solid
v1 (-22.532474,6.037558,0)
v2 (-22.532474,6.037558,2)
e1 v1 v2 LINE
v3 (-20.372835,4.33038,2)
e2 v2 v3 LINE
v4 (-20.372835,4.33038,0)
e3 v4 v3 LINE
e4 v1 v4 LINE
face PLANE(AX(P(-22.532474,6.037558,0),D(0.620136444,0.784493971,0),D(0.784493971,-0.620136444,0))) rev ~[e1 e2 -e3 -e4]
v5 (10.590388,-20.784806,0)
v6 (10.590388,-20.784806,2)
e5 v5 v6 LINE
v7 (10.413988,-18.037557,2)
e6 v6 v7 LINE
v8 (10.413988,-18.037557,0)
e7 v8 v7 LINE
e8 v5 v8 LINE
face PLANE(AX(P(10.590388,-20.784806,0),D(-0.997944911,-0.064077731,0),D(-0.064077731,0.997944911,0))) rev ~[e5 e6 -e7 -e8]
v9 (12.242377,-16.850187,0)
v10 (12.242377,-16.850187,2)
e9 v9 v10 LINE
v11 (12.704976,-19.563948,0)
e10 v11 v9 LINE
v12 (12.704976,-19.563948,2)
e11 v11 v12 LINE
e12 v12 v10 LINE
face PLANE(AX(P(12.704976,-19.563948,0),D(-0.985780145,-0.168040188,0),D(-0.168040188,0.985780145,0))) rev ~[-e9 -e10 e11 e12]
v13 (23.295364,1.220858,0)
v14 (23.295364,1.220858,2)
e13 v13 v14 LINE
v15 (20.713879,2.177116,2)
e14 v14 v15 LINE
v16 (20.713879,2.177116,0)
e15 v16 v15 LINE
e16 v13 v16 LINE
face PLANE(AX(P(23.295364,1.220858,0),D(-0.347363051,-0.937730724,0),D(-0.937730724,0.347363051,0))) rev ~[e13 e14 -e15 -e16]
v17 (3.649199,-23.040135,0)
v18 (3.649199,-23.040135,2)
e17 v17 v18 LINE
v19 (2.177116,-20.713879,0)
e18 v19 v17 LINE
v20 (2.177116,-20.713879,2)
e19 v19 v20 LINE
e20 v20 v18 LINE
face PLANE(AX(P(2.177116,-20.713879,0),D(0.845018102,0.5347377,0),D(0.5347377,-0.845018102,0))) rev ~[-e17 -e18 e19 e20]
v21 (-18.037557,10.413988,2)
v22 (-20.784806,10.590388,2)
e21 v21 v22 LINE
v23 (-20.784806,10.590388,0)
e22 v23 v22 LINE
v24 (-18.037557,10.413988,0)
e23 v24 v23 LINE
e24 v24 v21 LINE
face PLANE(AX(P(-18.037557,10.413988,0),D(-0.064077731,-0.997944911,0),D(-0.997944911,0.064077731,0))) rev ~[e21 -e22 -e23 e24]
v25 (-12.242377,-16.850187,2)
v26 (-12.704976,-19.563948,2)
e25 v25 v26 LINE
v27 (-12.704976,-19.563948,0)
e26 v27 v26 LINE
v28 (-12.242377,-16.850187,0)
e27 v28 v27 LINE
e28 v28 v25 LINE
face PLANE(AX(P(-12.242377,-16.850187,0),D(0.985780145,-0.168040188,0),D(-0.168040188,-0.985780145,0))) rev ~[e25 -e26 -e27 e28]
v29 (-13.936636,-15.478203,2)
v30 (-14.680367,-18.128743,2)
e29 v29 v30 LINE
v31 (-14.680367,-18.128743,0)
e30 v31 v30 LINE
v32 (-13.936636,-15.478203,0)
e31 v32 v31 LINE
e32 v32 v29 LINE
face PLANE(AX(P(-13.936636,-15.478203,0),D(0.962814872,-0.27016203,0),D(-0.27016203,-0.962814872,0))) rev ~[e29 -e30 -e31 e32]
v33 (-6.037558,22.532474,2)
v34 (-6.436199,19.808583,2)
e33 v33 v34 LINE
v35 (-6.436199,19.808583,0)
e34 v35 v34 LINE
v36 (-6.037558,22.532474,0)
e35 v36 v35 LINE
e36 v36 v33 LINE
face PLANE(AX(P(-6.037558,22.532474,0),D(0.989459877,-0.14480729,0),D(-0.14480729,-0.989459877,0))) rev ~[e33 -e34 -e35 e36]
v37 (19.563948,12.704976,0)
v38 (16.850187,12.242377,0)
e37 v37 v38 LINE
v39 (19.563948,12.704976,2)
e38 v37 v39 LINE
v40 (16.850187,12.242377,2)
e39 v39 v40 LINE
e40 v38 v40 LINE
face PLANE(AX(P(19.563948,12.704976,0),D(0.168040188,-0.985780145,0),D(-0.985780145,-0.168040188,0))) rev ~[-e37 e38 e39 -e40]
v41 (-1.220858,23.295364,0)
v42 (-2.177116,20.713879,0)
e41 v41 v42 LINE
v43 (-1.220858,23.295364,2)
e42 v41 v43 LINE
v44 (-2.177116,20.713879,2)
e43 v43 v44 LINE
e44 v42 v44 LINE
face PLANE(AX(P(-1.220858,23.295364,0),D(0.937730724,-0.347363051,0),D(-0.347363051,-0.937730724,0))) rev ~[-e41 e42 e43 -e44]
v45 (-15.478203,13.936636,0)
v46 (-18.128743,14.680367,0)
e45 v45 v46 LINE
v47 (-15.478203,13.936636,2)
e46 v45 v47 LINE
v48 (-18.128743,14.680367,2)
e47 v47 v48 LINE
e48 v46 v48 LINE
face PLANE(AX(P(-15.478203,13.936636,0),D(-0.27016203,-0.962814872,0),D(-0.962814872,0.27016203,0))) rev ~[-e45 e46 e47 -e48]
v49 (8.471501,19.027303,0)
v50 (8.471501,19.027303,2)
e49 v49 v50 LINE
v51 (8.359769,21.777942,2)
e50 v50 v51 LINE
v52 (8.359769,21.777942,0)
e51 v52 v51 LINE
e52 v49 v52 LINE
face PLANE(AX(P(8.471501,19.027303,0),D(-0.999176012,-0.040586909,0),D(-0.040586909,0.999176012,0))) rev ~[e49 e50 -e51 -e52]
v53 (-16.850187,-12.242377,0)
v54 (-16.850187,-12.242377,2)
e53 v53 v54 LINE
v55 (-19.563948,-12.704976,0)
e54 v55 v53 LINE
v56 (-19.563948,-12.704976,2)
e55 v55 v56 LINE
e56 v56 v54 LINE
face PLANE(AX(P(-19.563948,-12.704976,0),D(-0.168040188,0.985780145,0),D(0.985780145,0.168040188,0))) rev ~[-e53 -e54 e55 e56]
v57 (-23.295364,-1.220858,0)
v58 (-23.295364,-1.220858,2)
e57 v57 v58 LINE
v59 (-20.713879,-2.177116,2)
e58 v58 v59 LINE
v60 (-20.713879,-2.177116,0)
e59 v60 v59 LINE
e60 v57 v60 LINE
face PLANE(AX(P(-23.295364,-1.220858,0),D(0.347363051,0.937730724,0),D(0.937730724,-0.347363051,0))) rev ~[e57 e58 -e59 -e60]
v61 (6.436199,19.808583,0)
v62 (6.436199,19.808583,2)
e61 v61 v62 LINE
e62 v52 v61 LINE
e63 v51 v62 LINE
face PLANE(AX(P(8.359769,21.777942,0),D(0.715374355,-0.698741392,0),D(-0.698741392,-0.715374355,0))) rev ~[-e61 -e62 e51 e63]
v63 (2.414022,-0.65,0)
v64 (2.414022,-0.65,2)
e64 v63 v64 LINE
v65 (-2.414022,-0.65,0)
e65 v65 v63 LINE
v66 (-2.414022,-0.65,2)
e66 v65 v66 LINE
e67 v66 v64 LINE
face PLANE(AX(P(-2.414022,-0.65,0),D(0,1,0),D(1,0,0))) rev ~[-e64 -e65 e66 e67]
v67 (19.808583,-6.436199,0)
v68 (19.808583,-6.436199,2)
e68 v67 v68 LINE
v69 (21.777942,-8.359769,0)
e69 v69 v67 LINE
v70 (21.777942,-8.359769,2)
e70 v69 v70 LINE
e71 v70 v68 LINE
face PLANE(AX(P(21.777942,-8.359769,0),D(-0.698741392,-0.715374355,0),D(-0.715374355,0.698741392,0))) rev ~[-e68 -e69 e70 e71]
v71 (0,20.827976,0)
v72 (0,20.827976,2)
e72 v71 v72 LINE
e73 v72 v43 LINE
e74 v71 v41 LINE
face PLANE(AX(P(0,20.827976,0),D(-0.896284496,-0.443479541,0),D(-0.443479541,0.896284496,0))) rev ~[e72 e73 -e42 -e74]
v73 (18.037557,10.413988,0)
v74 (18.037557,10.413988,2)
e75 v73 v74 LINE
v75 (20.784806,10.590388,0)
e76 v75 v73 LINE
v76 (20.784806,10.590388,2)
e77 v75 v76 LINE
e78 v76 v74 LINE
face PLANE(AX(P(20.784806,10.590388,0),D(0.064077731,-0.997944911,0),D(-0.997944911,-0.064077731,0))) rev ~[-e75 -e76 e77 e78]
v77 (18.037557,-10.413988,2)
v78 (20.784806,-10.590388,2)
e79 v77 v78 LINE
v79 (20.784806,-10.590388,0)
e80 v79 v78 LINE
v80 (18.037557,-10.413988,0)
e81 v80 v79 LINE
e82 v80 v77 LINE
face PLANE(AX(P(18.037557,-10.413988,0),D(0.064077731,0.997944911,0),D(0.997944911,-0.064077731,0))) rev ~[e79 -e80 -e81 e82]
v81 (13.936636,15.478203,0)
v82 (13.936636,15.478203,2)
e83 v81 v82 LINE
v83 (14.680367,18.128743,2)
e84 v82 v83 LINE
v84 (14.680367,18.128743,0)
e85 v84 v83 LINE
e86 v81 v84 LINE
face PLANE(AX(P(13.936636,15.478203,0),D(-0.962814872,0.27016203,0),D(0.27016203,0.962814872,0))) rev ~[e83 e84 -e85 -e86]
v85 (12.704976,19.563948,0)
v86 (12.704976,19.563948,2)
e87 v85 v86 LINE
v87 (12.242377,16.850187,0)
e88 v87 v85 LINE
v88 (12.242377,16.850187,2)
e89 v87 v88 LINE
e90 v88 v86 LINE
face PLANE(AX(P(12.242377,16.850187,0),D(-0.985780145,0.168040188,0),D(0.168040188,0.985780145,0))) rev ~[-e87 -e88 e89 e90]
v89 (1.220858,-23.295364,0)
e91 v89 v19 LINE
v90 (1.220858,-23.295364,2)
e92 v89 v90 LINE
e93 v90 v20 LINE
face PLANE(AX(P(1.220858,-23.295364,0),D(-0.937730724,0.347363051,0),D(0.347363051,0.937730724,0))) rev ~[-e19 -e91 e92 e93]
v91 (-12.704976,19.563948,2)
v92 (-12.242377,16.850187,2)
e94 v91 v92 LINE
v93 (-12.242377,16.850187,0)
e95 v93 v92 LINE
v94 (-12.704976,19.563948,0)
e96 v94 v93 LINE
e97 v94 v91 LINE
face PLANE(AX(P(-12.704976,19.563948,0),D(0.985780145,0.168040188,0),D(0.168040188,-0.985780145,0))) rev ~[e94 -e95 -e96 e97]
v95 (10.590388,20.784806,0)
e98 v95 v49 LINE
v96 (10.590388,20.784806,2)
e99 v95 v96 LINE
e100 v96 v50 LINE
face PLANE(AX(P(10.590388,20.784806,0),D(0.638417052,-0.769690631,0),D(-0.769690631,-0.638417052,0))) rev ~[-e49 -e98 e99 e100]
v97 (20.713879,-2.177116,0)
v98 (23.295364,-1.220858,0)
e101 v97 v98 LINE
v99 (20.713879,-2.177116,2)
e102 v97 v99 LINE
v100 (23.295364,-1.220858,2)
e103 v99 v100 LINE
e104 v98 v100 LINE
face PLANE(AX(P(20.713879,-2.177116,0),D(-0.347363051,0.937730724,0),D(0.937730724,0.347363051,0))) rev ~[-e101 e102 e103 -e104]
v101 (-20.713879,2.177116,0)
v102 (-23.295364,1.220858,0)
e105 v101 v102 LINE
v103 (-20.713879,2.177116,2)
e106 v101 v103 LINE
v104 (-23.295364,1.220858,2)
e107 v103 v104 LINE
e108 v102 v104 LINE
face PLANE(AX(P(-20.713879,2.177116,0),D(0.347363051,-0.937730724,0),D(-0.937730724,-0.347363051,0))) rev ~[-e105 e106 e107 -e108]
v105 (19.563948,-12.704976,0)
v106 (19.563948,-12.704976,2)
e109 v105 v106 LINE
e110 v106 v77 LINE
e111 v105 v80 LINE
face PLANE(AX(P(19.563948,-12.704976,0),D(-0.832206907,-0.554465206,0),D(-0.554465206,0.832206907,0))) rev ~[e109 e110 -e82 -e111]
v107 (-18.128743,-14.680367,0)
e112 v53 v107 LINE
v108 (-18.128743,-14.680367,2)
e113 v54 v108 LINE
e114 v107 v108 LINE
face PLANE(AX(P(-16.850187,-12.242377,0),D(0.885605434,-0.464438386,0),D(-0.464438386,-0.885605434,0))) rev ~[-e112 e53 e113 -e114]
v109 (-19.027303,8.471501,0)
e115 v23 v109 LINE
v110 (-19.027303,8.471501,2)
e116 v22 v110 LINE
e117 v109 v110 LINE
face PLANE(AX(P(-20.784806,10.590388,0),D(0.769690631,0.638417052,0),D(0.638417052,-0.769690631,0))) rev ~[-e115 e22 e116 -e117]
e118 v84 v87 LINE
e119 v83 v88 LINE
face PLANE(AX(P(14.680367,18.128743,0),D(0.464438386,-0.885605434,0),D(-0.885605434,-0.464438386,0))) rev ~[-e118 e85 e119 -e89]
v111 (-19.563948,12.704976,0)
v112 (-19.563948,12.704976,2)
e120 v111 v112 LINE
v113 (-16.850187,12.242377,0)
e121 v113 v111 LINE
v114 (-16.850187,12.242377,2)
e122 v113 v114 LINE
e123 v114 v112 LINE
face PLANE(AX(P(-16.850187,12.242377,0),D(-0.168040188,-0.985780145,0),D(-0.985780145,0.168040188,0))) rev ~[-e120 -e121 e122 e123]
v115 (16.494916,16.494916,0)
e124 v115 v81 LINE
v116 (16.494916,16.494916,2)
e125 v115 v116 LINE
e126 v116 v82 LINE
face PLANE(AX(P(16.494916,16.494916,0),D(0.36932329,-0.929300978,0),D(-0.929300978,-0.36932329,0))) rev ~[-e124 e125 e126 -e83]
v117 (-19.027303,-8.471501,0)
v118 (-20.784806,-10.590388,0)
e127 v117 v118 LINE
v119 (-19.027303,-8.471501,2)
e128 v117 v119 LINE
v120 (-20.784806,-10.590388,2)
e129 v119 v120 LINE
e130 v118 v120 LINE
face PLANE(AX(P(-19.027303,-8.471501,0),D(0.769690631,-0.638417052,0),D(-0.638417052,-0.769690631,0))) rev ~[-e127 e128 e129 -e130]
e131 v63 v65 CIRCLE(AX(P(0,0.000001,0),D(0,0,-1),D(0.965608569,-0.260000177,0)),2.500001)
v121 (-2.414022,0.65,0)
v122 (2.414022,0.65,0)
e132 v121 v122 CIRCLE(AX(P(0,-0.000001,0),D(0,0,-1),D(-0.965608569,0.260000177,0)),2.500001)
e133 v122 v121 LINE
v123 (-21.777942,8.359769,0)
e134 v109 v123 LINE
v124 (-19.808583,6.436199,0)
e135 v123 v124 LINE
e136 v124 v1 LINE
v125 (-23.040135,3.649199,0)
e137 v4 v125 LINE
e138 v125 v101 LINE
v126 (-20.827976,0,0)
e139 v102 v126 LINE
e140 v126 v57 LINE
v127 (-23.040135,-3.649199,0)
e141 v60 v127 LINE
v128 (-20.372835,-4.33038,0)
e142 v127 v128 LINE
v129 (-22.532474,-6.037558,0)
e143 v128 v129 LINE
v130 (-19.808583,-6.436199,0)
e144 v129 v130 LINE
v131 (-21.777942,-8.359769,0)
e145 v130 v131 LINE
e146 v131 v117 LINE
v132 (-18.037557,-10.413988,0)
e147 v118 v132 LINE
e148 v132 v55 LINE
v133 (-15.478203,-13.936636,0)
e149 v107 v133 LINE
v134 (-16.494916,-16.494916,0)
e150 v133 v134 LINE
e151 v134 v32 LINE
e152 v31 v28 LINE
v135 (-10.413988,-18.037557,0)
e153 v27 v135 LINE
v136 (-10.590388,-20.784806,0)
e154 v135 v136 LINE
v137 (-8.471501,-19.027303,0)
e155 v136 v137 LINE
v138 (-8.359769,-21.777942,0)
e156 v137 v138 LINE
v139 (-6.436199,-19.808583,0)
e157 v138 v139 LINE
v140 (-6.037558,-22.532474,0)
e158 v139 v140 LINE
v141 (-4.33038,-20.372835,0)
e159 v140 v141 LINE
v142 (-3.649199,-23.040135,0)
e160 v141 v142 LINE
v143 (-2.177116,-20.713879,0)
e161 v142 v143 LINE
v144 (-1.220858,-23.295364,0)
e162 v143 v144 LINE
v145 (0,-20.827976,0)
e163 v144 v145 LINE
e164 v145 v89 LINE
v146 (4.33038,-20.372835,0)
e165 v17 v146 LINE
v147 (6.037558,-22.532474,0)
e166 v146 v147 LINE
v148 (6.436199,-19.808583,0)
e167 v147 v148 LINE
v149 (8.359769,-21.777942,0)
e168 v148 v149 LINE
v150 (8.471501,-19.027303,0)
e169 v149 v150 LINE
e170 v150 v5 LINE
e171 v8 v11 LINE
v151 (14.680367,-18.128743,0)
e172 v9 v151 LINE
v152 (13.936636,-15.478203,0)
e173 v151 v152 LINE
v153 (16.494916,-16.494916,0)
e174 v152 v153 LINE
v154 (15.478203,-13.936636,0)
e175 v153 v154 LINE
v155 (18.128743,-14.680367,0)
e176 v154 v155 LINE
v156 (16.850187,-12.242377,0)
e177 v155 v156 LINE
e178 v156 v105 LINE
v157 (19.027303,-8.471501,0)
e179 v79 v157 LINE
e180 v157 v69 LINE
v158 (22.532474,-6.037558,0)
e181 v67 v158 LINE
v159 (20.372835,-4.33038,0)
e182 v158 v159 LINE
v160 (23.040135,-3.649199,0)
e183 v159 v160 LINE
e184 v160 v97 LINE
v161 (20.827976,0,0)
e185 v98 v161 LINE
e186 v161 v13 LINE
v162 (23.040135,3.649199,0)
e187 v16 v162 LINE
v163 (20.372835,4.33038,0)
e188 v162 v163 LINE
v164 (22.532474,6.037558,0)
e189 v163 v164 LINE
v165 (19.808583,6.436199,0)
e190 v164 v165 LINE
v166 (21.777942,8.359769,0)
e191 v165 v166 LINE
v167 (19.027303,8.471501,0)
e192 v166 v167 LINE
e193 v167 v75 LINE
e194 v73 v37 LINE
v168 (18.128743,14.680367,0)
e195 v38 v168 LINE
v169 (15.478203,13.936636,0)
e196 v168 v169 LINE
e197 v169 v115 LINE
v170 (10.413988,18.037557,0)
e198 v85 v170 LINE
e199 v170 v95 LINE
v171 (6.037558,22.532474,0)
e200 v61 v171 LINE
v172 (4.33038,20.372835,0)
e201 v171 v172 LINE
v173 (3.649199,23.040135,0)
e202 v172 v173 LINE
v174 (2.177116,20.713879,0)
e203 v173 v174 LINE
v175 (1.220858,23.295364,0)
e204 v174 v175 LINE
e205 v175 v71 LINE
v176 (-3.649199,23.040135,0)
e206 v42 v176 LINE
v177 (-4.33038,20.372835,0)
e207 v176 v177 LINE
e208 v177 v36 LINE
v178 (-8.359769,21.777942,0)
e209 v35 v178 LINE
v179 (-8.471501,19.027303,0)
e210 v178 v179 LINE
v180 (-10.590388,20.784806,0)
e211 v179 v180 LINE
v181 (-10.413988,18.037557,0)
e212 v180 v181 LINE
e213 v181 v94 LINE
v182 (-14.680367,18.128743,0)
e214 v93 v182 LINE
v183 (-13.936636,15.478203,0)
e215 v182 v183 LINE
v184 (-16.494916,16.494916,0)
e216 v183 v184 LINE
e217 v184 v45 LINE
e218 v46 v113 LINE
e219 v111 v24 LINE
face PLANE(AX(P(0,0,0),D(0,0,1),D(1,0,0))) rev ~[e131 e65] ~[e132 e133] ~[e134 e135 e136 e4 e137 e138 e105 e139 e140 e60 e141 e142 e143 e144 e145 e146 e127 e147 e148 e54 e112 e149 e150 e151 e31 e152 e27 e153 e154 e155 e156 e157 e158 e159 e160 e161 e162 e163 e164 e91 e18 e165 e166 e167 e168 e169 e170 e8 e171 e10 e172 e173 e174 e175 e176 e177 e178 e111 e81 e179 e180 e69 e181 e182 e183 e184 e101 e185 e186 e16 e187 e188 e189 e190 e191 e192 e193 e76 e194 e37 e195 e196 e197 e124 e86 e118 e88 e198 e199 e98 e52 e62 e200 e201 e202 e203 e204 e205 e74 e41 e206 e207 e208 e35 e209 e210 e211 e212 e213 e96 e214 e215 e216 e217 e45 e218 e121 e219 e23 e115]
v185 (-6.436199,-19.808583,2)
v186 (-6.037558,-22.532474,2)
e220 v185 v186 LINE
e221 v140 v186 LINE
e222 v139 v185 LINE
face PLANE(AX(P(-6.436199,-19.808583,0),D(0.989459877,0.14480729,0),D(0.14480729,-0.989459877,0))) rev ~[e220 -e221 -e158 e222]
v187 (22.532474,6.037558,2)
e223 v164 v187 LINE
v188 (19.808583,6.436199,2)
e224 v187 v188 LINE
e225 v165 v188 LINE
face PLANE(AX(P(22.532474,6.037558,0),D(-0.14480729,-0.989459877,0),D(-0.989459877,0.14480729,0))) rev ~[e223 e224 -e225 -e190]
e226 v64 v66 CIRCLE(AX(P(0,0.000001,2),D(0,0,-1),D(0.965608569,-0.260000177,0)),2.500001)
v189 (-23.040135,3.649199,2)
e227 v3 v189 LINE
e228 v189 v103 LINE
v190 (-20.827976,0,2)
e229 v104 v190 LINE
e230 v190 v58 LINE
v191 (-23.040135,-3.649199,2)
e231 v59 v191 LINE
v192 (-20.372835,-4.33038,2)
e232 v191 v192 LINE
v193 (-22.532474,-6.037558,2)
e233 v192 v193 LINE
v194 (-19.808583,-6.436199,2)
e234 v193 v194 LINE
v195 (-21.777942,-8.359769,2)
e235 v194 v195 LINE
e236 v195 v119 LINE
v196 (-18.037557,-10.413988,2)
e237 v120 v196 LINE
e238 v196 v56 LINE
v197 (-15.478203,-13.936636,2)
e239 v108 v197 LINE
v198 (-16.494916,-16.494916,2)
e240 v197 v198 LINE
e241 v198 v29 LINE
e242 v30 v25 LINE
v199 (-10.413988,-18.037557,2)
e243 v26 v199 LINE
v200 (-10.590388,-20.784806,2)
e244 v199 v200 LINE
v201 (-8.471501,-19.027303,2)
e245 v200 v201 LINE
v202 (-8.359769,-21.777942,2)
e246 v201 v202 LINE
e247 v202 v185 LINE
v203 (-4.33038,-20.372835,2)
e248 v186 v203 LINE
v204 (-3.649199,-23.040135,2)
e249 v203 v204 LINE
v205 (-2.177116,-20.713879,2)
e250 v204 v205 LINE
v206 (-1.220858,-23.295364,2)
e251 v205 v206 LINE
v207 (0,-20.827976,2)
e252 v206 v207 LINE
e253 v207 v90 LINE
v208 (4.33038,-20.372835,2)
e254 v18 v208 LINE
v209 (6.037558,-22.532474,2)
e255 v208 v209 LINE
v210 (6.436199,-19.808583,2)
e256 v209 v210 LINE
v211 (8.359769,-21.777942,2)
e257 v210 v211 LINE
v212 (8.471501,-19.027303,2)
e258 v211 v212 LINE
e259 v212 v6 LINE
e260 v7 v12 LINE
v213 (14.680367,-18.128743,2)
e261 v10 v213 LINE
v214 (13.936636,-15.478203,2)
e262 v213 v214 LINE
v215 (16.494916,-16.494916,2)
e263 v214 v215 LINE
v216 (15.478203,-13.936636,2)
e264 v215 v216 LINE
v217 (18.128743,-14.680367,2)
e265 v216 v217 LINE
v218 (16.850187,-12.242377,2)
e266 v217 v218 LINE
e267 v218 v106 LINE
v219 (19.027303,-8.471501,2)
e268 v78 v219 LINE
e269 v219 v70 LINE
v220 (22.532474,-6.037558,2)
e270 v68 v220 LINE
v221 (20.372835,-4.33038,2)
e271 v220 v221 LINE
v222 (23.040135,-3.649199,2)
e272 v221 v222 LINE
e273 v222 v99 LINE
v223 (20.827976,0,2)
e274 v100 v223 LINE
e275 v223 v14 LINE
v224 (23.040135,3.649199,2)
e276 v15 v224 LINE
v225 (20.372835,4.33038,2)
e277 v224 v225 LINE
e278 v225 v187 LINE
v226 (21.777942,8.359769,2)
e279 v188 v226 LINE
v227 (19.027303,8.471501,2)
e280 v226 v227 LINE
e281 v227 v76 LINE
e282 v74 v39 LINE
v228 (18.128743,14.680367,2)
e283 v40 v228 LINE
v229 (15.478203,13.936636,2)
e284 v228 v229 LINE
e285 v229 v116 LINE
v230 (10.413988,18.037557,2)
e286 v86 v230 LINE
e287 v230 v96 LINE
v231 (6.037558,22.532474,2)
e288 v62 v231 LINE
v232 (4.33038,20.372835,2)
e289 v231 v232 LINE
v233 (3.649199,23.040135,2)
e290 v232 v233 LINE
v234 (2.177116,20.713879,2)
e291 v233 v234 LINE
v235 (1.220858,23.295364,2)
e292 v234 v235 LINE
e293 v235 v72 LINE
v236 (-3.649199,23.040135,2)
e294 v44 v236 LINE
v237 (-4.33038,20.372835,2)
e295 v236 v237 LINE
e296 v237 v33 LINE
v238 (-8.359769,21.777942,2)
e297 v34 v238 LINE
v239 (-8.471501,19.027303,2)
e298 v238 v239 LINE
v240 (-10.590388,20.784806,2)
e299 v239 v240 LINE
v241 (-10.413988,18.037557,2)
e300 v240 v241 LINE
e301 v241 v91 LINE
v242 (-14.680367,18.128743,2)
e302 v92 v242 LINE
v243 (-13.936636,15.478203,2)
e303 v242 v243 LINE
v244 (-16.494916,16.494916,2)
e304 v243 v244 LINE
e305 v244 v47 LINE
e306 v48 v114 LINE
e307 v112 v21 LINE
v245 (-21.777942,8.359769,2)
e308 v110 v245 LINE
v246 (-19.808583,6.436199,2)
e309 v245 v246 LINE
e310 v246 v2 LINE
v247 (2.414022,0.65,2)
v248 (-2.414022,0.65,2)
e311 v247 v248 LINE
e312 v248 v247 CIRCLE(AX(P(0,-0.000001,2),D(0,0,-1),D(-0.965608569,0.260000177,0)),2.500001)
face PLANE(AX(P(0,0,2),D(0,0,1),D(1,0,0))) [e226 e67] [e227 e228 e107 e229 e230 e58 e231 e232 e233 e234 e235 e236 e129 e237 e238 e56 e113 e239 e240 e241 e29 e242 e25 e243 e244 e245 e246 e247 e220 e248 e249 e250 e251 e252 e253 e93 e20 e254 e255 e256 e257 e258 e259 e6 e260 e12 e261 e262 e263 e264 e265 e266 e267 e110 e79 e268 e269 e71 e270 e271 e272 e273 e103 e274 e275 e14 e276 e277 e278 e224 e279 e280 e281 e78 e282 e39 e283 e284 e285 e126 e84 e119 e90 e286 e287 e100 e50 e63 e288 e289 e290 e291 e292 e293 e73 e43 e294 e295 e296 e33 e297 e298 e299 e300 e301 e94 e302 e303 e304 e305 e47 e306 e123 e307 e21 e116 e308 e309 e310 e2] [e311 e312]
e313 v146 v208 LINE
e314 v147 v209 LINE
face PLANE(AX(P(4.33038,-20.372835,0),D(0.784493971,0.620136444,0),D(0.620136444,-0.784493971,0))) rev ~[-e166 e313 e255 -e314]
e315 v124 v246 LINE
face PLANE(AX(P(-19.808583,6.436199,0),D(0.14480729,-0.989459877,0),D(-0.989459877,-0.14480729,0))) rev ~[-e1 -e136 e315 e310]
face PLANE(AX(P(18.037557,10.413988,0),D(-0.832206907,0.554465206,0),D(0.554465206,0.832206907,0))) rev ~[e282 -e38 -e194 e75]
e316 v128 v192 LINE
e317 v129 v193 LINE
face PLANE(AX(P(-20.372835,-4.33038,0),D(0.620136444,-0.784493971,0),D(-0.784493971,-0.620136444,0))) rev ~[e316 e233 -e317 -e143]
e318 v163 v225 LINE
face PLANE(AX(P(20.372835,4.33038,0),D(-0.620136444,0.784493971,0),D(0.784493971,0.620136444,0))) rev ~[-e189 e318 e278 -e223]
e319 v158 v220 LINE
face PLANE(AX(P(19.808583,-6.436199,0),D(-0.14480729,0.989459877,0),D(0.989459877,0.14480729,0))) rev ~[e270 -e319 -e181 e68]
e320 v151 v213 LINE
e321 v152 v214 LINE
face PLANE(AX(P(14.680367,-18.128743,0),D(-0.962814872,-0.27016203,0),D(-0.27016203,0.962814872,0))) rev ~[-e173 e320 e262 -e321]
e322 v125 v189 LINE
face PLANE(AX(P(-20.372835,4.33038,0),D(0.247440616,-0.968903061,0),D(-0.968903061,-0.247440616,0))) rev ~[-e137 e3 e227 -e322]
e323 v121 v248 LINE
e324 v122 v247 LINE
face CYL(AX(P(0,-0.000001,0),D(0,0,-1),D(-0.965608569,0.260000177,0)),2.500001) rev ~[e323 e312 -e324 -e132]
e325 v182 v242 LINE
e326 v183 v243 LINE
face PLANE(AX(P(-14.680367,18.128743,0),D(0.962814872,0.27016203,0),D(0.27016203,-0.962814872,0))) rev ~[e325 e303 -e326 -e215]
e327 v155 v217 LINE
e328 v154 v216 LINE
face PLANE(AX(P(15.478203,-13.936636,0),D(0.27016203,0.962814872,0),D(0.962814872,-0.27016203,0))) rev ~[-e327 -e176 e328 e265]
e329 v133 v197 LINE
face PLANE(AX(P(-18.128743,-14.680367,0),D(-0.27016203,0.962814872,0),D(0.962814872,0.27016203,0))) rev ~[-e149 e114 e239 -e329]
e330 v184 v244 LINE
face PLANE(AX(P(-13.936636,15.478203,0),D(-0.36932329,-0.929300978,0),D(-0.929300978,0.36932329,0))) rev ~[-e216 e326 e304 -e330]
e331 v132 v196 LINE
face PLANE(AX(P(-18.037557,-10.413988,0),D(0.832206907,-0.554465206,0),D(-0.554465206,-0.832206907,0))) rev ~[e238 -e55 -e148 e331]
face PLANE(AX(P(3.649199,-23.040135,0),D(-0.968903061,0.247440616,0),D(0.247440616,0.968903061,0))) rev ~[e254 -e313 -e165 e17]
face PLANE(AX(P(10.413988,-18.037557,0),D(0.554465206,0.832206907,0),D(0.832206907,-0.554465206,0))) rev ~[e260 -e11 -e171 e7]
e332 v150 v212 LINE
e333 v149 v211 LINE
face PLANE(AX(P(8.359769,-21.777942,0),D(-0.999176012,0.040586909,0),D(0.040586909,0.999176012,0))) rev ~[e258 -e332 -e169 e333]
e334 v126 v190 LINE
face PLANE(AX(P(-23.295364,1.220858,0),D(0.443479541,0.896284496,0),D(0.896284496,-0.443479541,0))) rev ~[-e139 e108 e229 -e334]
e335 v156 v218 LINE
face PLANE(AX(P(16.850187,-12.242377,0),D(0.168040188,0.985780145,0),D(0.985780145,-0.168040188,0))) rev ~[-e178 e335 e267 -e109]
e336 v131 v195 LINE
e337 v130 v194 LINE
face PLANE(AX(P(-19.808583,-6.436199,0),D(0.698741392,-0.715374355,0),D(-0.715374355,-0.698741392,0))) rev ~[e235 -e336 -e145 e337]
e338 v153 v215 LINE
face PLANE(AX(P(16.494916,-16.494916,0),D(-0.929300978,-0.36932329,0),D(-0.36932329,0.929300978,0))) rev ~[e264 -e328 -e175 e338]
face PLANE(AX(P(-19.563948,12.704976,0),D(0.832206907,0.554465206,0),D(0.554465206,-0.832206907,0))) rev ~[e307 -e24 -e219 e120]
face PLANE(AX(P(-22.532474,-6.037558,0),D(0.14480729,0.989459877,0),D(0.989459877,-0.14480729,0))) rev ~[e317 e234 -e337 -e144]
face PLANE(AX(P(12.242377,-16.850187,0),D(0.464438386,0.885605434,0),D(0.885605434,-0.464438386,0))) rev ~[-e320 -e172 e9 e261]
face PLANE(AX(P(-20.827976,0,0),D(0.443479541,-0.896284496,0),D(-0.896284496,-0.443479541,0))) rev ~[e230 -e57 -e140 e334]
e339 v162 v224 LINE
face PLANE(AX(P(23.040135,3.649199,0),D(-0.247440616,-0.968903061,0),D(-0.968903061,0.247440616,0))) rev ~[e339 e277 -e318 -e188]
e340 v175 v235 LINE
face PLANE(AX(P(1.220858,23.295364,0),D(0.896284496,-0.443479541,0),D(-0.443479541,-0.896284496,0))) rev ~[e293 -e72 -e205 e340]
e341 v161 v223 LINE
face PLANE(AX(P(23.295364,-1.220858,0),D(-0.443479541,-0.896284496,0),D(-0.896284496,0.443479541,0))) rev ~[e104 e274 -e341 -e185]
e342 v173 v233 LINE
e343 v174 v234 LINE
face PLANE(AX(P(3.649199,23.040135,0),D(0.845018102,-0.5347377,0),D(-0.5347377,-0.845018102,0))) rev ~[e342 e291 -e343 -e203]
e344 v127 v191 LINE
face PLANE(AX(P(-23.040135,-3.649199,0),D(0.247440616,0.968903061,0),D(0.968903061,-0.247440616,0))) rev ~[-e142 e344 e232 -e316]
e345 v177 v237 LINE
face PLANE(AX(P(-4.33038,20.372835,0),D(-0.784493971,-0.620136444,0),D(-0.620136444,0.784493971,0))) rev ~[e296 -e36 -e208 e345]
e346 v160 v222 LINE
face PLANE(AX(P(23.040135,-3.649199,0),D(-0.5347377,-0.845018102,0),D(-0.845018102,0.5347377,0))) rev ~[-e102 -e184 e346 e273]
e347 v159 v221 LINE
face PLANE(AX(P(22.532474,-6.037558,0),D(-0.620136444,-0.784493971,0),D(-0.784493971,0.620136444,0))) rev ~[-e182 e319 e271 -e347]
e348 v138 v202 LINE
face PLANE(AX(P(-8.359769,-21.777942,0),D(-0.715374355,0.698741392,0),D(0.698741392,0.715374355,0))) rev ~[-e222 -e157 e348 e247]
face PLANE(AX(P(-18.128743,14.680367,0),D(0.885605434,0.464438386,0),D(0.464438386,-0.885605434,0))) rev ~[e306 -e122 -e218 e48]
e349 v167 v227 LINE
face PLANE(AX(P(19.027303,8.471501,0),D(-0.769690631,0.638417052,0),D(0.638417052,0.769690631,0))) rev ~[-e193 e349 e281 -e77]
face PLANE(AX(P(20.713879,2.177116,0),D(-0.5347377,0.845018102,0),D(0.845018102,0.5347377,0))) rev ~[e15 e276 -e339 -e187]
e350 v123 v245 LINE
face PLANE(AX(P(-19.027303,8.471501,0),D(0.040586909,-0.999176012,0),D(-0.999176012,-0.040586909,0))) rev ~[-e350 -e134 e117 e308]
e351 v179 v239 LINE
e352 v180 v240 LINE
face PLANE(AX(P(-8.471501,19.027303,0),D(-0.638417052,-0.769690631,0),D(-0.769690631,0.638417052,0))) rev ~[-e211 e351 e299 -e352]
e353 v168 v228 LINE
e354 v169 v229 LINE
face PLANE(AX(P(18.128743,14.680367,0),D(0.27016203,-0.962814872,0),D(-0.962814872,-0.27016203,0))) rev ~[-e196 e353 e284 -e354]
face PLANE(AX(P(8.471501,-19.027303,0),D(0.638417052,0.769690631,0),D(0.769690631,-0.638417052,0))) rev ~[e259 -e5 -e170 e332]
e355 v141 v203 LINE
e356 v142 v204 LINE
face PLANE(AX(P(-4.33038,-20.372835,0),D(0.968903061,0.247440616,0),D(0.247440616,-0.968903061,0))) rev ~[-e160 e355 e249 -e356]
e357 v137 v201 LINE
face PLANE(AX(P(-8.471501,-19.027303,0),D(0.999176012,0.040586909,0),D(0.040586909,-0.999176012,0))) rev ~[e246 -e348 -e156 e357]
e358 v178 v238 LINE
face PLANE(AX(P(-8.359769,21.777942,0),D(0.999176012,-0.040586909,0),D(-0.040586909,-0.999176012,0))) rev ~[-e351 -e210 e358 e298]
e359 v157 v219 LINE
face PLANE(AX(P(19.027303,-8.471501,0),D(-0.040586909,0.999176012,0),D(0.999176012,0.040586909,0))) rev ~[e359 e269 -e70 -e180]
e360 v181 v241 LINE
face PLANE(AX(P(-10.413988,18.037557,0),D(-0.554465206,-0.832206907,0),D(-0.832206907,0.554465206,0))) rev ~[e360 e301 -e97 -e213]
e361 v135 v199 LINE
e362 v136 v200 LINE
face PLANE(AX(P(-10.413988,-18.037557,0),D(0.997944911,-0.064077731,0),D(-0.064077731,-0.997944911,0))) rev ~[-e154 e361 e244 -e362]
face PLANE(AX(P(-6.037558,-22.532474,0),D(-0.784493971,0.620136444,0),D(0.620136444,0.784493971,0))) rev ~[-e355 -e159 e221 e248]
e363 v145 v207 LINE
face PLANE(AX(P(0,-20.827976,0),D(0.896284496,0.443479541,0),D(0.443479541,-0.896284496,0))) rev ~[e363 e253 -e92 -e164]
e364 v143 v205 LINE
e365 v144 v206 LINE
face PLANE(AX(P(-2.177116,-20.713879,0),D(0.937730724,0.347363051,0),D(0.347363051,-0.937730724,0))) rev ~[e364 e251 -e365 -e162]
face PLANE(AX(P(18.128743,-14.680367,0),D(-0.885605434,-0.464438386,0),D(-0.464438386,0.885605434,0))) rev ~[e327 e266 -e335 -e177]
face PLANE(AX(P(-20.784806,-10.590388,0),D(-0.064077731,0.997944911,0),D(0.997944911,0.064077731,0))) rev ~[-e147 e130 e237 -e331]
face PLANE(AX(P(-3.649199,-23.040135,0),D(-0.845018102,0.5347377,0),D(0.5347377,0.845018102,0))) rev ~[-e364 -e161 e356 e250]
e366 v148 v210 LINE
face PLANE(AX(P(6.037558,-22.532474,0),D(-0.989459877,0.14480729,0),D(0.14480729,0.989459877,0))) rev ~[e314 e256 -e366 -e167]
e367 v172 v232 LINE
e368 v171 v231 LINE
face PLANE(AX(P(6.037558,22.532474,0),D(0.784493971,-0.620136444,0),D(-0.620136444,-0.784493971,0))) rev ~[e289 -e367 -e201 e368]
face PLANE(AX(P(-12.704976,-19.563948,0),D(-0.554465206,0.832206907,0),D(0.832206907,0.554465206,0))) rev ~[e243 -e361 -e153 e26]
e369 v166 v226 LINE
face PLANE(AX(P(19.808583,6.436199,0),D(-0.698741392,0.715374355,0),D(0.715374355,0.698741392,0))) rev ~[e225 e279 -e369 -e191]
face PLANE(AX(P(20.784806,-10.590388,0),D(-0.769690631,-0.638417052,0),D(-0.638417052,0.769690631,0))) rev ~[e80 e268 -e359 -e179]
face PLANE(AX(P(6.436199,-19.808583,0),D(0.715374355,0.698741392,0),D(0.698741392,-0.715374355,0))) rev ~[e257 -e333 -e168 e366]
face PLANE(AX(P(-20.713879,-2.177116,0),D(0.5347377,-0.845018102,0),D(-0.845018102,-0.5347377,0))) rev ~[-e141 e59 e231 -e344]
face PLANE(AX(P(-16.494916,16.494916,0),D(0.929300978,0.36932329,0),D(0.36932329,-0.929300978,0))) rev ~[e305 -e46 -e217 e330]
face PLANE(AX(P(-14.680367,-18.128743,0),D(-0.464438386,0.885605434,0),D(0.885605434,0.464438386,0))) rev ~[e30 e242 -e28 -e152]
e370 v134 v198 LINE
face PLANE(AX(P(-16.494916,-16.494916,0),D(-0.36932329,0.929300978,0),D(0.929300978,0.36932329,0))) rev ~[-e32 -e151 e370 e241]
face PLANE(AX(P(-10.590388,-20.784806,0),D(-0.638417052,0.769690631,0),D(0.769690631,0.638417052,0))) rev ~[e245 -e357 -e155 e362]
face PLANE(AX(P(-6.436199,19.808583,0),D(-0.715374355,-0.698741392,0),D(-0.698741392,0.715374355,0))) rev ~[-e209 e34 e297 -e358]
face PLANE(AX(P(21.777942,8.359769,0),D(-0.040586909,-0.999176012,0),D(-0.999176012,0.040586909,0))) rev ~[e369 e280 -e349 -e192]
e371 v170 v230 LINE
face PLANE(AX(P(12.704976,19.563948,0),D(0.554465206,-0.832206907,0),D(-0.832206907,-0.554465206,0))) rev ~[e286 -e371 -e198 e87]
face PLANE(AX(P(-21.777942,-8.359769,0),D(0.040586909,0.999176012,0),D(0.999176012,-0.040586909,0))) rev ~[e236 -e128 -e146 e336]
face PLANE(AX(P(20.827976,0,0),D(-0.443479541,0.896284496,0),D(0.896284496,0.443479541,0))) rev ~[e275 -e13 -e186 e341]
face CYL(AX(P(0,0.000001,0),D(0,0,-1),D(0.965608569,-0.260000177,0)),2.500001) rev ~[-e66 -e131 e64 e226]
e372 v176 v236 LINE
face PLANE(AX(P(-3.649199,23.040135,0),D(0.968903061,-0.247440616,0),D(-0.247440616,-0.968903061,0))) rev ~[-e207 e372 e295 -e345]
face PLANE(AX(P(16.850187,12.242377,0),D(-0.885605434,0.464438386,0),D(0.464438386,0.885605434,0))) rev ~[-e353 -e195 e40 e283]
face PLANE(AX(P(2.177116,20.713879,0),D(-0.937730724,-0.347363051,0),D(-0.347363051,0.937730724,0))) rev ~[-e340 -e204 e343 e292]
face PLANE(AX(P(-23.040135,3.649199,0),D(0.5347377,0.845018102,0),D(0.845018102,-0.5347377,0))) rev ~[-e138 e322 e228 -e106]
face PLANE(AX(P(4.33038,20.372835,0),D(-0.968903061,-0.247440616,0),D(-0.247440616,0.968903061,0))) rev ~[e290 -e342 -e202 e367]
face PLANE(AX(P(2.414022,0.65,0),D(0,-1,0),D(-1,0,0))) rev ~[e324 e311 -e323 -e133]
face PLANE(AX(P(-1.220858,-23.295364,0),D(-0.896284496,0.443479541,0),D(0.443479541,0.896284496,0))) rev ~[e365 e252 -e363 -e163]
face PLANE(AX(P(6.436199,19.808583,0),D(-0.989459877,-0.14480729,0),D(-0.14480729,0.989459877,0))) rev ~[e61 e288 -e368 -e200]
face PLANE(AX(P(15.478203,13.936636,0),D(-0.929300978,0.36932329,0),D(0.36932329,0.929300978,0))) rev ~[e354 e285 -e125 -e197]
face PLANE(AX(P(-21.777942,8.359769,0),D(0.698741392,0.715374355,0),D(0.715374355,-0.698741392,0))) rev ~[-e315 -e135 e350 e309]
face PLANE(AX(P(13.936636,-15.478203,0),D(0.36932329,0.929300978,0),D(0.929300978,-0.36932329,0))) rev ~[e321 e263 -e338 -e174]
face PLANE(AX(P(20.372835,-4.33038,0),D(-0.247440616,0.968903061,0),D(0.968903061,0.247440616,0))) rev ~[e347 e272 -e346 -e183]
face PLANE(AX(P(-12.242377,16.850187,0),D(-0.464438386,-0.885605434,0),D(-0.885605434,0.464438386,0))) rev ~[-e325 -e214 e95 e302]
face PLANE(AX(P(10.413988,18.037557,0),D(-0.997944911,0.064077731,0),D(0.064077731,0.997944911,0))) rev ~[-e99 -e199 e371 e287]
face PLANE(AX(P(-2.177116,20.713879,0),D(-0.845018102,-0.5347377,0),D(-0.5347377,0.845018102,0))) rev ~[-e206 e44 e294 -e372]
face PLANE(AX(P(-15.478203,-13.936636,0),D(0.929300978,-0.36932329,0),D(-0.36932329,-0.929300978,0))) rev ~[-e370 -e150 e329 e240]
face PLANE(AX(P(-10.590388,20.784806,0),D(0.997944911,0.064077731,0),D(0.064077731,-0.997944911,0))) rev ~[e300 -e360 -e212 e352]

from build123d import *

# Parameters (mm, degrees)
F1_DEPTH = 2


with BuildPart() as f1:
    # F0 (on Top) → F1 (new body)
    with BuildSketch(Plane.XY):
        Polygon((1.220858, 23.295364), (0, 20.827976), (-1.220858, 23.295364), (-2.177116, 20.713879), (-3.649199, 23.040135), (-4.33038, 20.372835), (-6.037558, 22.532474), (-6.436199, 19.808583), (-8.359769, 21.777942), (-8.471501, 19.027303), (-10.590388, 20.784806), (-10.413988, 18.037557), (-12.704976, 19.563948), (-12.242377, 16.850187), (-14.680367, 18.128743), (-13.936636, 15.478203), (-16.494916, 16.494916), (-15.478203, 13.936636), (-18.128743, 14.680367), (-16.850187, 12.242377), (-19.563948, 12.704976), (-18.037557, 10.413988), (-20.784806, 10.590388), (-19.027303, 8.471501), (-21.777942, 8.359769), (-19.808583, 6.436199), (-22.532474, 6.037558), (-20.372835, 4.33038), (-23.040135, 3.649199), (-20.713879, 2.177116), (-23.295364, 1.220858), (-20.827976, 0), (-23.295364, -1.220858), (-20.713879, -2.177116), (-23.040135, -3.649199), (-20.372835, -4.33038), (-22.532474, -6.037558), (-19.808583, -6.436199), (-21.777942, -8.359769), (-19.027303, -8.471501), (-20.784806, -10.590388), (-18.037557, -10.413988), (-19.563948, -12.704976), (-16.850187, -12.242377), (-18.128743, -14.680367), (-15.478203, -13.936636), (-16.494916, -16.494916), (-13.936636, -15.478203), (-14.680367, -18.128743), (-12.242377, -16.850187), (-12.704976, -19.563948), (-10.413988, -18.037557), (-10.590388, -20.784806), (-8.471501, -19.027303), (-8.359769, -21.777942), (-6.436199, -19.808583), (-6.037558, -22.532474), (-4.33038, -20.372835), (-3.649199, -23.040135), (-2.177116, -20.713879), (-1.220858, -23.295364), (0, -20.827976), (1.220858, -23.295364), (2.177116, -20.713879), (3.649199, -23.040135), (4.33038, -20.372835), (6.037558, -22.532474), (6.436199, -19.808583), (8.359769, -21.777942), (8.471501, -19.027303), (10.590388, -20.784806), (10.413988, -18.037557), (12.704976, -19.563948), (12.242377, -16.850187), (14.680367, -18.128743), (13.936636, -15.478203), (16.494916, -16.494916), (15.478203, -13.936636), (18.128743, -14.680367), (16.850187, -12.242377), (19.563948, -12.704976), (18.037557, -10.413988), (20.784806, -10.590388), (19.027303, -8.471501), (21.777942, -8.359769), (19.808583, -6.436199), (22.532474, -6.037558), (20.372835, -4.33038), (23.040135, -3.649199), (20.713879, -2.177116), (23.295364, -1.220858), (20.827976, 0), (23.295364, 1.220858), (20.713879, 2.177116), (23.040135, 3.649199), (20.372835, 4.33038), (22.532474, 6.037558), (19.808583, 6.436199), (21.777942, 8.359769), (19.027303, 8.471501), (20.784806, 10.590388), (18.037557, 10.413988), (19.563948, 12.704976), (16.850187, 12.242377), (18.128743, 14.680367), (15.478203, 13.936636), (16.494916, 16.494916), (13.936636, 15.478203), (14.680367, 18.128743), (12.242377, 16.850187), (12.704976, 19.563948), (10.413988, 18.037557), (10.590388, 20.784806), (8.471501, 19.027303), (8.359769, 21.777942), (6.436199, 19.808583), (6.037558, 22.532474), (4.33038, 20.372835), (3.649199, 23.040135), (2.177116, 20.713879), align=None)
        with BuildLine():
            Line((-2.414022, -0.65), (2.414022, -0.65))
            ThreePointArc((2.414022, -0.65), (0, -2.5), (-2.414022, -0.65))
        make_face(mode=Mode.SUBTRACT)
        with BuildLine():
            ThreePointArc((-2.414022, 0.65), (0, 2.5), (2.414022, 0.65))
            Line((2.414022, 0.65), (-2.414022, 0.65))
        make_face(mode=Mode.SUBTRACT)
    extrude(amount=F1_DEPTH)


solid = f1.part
